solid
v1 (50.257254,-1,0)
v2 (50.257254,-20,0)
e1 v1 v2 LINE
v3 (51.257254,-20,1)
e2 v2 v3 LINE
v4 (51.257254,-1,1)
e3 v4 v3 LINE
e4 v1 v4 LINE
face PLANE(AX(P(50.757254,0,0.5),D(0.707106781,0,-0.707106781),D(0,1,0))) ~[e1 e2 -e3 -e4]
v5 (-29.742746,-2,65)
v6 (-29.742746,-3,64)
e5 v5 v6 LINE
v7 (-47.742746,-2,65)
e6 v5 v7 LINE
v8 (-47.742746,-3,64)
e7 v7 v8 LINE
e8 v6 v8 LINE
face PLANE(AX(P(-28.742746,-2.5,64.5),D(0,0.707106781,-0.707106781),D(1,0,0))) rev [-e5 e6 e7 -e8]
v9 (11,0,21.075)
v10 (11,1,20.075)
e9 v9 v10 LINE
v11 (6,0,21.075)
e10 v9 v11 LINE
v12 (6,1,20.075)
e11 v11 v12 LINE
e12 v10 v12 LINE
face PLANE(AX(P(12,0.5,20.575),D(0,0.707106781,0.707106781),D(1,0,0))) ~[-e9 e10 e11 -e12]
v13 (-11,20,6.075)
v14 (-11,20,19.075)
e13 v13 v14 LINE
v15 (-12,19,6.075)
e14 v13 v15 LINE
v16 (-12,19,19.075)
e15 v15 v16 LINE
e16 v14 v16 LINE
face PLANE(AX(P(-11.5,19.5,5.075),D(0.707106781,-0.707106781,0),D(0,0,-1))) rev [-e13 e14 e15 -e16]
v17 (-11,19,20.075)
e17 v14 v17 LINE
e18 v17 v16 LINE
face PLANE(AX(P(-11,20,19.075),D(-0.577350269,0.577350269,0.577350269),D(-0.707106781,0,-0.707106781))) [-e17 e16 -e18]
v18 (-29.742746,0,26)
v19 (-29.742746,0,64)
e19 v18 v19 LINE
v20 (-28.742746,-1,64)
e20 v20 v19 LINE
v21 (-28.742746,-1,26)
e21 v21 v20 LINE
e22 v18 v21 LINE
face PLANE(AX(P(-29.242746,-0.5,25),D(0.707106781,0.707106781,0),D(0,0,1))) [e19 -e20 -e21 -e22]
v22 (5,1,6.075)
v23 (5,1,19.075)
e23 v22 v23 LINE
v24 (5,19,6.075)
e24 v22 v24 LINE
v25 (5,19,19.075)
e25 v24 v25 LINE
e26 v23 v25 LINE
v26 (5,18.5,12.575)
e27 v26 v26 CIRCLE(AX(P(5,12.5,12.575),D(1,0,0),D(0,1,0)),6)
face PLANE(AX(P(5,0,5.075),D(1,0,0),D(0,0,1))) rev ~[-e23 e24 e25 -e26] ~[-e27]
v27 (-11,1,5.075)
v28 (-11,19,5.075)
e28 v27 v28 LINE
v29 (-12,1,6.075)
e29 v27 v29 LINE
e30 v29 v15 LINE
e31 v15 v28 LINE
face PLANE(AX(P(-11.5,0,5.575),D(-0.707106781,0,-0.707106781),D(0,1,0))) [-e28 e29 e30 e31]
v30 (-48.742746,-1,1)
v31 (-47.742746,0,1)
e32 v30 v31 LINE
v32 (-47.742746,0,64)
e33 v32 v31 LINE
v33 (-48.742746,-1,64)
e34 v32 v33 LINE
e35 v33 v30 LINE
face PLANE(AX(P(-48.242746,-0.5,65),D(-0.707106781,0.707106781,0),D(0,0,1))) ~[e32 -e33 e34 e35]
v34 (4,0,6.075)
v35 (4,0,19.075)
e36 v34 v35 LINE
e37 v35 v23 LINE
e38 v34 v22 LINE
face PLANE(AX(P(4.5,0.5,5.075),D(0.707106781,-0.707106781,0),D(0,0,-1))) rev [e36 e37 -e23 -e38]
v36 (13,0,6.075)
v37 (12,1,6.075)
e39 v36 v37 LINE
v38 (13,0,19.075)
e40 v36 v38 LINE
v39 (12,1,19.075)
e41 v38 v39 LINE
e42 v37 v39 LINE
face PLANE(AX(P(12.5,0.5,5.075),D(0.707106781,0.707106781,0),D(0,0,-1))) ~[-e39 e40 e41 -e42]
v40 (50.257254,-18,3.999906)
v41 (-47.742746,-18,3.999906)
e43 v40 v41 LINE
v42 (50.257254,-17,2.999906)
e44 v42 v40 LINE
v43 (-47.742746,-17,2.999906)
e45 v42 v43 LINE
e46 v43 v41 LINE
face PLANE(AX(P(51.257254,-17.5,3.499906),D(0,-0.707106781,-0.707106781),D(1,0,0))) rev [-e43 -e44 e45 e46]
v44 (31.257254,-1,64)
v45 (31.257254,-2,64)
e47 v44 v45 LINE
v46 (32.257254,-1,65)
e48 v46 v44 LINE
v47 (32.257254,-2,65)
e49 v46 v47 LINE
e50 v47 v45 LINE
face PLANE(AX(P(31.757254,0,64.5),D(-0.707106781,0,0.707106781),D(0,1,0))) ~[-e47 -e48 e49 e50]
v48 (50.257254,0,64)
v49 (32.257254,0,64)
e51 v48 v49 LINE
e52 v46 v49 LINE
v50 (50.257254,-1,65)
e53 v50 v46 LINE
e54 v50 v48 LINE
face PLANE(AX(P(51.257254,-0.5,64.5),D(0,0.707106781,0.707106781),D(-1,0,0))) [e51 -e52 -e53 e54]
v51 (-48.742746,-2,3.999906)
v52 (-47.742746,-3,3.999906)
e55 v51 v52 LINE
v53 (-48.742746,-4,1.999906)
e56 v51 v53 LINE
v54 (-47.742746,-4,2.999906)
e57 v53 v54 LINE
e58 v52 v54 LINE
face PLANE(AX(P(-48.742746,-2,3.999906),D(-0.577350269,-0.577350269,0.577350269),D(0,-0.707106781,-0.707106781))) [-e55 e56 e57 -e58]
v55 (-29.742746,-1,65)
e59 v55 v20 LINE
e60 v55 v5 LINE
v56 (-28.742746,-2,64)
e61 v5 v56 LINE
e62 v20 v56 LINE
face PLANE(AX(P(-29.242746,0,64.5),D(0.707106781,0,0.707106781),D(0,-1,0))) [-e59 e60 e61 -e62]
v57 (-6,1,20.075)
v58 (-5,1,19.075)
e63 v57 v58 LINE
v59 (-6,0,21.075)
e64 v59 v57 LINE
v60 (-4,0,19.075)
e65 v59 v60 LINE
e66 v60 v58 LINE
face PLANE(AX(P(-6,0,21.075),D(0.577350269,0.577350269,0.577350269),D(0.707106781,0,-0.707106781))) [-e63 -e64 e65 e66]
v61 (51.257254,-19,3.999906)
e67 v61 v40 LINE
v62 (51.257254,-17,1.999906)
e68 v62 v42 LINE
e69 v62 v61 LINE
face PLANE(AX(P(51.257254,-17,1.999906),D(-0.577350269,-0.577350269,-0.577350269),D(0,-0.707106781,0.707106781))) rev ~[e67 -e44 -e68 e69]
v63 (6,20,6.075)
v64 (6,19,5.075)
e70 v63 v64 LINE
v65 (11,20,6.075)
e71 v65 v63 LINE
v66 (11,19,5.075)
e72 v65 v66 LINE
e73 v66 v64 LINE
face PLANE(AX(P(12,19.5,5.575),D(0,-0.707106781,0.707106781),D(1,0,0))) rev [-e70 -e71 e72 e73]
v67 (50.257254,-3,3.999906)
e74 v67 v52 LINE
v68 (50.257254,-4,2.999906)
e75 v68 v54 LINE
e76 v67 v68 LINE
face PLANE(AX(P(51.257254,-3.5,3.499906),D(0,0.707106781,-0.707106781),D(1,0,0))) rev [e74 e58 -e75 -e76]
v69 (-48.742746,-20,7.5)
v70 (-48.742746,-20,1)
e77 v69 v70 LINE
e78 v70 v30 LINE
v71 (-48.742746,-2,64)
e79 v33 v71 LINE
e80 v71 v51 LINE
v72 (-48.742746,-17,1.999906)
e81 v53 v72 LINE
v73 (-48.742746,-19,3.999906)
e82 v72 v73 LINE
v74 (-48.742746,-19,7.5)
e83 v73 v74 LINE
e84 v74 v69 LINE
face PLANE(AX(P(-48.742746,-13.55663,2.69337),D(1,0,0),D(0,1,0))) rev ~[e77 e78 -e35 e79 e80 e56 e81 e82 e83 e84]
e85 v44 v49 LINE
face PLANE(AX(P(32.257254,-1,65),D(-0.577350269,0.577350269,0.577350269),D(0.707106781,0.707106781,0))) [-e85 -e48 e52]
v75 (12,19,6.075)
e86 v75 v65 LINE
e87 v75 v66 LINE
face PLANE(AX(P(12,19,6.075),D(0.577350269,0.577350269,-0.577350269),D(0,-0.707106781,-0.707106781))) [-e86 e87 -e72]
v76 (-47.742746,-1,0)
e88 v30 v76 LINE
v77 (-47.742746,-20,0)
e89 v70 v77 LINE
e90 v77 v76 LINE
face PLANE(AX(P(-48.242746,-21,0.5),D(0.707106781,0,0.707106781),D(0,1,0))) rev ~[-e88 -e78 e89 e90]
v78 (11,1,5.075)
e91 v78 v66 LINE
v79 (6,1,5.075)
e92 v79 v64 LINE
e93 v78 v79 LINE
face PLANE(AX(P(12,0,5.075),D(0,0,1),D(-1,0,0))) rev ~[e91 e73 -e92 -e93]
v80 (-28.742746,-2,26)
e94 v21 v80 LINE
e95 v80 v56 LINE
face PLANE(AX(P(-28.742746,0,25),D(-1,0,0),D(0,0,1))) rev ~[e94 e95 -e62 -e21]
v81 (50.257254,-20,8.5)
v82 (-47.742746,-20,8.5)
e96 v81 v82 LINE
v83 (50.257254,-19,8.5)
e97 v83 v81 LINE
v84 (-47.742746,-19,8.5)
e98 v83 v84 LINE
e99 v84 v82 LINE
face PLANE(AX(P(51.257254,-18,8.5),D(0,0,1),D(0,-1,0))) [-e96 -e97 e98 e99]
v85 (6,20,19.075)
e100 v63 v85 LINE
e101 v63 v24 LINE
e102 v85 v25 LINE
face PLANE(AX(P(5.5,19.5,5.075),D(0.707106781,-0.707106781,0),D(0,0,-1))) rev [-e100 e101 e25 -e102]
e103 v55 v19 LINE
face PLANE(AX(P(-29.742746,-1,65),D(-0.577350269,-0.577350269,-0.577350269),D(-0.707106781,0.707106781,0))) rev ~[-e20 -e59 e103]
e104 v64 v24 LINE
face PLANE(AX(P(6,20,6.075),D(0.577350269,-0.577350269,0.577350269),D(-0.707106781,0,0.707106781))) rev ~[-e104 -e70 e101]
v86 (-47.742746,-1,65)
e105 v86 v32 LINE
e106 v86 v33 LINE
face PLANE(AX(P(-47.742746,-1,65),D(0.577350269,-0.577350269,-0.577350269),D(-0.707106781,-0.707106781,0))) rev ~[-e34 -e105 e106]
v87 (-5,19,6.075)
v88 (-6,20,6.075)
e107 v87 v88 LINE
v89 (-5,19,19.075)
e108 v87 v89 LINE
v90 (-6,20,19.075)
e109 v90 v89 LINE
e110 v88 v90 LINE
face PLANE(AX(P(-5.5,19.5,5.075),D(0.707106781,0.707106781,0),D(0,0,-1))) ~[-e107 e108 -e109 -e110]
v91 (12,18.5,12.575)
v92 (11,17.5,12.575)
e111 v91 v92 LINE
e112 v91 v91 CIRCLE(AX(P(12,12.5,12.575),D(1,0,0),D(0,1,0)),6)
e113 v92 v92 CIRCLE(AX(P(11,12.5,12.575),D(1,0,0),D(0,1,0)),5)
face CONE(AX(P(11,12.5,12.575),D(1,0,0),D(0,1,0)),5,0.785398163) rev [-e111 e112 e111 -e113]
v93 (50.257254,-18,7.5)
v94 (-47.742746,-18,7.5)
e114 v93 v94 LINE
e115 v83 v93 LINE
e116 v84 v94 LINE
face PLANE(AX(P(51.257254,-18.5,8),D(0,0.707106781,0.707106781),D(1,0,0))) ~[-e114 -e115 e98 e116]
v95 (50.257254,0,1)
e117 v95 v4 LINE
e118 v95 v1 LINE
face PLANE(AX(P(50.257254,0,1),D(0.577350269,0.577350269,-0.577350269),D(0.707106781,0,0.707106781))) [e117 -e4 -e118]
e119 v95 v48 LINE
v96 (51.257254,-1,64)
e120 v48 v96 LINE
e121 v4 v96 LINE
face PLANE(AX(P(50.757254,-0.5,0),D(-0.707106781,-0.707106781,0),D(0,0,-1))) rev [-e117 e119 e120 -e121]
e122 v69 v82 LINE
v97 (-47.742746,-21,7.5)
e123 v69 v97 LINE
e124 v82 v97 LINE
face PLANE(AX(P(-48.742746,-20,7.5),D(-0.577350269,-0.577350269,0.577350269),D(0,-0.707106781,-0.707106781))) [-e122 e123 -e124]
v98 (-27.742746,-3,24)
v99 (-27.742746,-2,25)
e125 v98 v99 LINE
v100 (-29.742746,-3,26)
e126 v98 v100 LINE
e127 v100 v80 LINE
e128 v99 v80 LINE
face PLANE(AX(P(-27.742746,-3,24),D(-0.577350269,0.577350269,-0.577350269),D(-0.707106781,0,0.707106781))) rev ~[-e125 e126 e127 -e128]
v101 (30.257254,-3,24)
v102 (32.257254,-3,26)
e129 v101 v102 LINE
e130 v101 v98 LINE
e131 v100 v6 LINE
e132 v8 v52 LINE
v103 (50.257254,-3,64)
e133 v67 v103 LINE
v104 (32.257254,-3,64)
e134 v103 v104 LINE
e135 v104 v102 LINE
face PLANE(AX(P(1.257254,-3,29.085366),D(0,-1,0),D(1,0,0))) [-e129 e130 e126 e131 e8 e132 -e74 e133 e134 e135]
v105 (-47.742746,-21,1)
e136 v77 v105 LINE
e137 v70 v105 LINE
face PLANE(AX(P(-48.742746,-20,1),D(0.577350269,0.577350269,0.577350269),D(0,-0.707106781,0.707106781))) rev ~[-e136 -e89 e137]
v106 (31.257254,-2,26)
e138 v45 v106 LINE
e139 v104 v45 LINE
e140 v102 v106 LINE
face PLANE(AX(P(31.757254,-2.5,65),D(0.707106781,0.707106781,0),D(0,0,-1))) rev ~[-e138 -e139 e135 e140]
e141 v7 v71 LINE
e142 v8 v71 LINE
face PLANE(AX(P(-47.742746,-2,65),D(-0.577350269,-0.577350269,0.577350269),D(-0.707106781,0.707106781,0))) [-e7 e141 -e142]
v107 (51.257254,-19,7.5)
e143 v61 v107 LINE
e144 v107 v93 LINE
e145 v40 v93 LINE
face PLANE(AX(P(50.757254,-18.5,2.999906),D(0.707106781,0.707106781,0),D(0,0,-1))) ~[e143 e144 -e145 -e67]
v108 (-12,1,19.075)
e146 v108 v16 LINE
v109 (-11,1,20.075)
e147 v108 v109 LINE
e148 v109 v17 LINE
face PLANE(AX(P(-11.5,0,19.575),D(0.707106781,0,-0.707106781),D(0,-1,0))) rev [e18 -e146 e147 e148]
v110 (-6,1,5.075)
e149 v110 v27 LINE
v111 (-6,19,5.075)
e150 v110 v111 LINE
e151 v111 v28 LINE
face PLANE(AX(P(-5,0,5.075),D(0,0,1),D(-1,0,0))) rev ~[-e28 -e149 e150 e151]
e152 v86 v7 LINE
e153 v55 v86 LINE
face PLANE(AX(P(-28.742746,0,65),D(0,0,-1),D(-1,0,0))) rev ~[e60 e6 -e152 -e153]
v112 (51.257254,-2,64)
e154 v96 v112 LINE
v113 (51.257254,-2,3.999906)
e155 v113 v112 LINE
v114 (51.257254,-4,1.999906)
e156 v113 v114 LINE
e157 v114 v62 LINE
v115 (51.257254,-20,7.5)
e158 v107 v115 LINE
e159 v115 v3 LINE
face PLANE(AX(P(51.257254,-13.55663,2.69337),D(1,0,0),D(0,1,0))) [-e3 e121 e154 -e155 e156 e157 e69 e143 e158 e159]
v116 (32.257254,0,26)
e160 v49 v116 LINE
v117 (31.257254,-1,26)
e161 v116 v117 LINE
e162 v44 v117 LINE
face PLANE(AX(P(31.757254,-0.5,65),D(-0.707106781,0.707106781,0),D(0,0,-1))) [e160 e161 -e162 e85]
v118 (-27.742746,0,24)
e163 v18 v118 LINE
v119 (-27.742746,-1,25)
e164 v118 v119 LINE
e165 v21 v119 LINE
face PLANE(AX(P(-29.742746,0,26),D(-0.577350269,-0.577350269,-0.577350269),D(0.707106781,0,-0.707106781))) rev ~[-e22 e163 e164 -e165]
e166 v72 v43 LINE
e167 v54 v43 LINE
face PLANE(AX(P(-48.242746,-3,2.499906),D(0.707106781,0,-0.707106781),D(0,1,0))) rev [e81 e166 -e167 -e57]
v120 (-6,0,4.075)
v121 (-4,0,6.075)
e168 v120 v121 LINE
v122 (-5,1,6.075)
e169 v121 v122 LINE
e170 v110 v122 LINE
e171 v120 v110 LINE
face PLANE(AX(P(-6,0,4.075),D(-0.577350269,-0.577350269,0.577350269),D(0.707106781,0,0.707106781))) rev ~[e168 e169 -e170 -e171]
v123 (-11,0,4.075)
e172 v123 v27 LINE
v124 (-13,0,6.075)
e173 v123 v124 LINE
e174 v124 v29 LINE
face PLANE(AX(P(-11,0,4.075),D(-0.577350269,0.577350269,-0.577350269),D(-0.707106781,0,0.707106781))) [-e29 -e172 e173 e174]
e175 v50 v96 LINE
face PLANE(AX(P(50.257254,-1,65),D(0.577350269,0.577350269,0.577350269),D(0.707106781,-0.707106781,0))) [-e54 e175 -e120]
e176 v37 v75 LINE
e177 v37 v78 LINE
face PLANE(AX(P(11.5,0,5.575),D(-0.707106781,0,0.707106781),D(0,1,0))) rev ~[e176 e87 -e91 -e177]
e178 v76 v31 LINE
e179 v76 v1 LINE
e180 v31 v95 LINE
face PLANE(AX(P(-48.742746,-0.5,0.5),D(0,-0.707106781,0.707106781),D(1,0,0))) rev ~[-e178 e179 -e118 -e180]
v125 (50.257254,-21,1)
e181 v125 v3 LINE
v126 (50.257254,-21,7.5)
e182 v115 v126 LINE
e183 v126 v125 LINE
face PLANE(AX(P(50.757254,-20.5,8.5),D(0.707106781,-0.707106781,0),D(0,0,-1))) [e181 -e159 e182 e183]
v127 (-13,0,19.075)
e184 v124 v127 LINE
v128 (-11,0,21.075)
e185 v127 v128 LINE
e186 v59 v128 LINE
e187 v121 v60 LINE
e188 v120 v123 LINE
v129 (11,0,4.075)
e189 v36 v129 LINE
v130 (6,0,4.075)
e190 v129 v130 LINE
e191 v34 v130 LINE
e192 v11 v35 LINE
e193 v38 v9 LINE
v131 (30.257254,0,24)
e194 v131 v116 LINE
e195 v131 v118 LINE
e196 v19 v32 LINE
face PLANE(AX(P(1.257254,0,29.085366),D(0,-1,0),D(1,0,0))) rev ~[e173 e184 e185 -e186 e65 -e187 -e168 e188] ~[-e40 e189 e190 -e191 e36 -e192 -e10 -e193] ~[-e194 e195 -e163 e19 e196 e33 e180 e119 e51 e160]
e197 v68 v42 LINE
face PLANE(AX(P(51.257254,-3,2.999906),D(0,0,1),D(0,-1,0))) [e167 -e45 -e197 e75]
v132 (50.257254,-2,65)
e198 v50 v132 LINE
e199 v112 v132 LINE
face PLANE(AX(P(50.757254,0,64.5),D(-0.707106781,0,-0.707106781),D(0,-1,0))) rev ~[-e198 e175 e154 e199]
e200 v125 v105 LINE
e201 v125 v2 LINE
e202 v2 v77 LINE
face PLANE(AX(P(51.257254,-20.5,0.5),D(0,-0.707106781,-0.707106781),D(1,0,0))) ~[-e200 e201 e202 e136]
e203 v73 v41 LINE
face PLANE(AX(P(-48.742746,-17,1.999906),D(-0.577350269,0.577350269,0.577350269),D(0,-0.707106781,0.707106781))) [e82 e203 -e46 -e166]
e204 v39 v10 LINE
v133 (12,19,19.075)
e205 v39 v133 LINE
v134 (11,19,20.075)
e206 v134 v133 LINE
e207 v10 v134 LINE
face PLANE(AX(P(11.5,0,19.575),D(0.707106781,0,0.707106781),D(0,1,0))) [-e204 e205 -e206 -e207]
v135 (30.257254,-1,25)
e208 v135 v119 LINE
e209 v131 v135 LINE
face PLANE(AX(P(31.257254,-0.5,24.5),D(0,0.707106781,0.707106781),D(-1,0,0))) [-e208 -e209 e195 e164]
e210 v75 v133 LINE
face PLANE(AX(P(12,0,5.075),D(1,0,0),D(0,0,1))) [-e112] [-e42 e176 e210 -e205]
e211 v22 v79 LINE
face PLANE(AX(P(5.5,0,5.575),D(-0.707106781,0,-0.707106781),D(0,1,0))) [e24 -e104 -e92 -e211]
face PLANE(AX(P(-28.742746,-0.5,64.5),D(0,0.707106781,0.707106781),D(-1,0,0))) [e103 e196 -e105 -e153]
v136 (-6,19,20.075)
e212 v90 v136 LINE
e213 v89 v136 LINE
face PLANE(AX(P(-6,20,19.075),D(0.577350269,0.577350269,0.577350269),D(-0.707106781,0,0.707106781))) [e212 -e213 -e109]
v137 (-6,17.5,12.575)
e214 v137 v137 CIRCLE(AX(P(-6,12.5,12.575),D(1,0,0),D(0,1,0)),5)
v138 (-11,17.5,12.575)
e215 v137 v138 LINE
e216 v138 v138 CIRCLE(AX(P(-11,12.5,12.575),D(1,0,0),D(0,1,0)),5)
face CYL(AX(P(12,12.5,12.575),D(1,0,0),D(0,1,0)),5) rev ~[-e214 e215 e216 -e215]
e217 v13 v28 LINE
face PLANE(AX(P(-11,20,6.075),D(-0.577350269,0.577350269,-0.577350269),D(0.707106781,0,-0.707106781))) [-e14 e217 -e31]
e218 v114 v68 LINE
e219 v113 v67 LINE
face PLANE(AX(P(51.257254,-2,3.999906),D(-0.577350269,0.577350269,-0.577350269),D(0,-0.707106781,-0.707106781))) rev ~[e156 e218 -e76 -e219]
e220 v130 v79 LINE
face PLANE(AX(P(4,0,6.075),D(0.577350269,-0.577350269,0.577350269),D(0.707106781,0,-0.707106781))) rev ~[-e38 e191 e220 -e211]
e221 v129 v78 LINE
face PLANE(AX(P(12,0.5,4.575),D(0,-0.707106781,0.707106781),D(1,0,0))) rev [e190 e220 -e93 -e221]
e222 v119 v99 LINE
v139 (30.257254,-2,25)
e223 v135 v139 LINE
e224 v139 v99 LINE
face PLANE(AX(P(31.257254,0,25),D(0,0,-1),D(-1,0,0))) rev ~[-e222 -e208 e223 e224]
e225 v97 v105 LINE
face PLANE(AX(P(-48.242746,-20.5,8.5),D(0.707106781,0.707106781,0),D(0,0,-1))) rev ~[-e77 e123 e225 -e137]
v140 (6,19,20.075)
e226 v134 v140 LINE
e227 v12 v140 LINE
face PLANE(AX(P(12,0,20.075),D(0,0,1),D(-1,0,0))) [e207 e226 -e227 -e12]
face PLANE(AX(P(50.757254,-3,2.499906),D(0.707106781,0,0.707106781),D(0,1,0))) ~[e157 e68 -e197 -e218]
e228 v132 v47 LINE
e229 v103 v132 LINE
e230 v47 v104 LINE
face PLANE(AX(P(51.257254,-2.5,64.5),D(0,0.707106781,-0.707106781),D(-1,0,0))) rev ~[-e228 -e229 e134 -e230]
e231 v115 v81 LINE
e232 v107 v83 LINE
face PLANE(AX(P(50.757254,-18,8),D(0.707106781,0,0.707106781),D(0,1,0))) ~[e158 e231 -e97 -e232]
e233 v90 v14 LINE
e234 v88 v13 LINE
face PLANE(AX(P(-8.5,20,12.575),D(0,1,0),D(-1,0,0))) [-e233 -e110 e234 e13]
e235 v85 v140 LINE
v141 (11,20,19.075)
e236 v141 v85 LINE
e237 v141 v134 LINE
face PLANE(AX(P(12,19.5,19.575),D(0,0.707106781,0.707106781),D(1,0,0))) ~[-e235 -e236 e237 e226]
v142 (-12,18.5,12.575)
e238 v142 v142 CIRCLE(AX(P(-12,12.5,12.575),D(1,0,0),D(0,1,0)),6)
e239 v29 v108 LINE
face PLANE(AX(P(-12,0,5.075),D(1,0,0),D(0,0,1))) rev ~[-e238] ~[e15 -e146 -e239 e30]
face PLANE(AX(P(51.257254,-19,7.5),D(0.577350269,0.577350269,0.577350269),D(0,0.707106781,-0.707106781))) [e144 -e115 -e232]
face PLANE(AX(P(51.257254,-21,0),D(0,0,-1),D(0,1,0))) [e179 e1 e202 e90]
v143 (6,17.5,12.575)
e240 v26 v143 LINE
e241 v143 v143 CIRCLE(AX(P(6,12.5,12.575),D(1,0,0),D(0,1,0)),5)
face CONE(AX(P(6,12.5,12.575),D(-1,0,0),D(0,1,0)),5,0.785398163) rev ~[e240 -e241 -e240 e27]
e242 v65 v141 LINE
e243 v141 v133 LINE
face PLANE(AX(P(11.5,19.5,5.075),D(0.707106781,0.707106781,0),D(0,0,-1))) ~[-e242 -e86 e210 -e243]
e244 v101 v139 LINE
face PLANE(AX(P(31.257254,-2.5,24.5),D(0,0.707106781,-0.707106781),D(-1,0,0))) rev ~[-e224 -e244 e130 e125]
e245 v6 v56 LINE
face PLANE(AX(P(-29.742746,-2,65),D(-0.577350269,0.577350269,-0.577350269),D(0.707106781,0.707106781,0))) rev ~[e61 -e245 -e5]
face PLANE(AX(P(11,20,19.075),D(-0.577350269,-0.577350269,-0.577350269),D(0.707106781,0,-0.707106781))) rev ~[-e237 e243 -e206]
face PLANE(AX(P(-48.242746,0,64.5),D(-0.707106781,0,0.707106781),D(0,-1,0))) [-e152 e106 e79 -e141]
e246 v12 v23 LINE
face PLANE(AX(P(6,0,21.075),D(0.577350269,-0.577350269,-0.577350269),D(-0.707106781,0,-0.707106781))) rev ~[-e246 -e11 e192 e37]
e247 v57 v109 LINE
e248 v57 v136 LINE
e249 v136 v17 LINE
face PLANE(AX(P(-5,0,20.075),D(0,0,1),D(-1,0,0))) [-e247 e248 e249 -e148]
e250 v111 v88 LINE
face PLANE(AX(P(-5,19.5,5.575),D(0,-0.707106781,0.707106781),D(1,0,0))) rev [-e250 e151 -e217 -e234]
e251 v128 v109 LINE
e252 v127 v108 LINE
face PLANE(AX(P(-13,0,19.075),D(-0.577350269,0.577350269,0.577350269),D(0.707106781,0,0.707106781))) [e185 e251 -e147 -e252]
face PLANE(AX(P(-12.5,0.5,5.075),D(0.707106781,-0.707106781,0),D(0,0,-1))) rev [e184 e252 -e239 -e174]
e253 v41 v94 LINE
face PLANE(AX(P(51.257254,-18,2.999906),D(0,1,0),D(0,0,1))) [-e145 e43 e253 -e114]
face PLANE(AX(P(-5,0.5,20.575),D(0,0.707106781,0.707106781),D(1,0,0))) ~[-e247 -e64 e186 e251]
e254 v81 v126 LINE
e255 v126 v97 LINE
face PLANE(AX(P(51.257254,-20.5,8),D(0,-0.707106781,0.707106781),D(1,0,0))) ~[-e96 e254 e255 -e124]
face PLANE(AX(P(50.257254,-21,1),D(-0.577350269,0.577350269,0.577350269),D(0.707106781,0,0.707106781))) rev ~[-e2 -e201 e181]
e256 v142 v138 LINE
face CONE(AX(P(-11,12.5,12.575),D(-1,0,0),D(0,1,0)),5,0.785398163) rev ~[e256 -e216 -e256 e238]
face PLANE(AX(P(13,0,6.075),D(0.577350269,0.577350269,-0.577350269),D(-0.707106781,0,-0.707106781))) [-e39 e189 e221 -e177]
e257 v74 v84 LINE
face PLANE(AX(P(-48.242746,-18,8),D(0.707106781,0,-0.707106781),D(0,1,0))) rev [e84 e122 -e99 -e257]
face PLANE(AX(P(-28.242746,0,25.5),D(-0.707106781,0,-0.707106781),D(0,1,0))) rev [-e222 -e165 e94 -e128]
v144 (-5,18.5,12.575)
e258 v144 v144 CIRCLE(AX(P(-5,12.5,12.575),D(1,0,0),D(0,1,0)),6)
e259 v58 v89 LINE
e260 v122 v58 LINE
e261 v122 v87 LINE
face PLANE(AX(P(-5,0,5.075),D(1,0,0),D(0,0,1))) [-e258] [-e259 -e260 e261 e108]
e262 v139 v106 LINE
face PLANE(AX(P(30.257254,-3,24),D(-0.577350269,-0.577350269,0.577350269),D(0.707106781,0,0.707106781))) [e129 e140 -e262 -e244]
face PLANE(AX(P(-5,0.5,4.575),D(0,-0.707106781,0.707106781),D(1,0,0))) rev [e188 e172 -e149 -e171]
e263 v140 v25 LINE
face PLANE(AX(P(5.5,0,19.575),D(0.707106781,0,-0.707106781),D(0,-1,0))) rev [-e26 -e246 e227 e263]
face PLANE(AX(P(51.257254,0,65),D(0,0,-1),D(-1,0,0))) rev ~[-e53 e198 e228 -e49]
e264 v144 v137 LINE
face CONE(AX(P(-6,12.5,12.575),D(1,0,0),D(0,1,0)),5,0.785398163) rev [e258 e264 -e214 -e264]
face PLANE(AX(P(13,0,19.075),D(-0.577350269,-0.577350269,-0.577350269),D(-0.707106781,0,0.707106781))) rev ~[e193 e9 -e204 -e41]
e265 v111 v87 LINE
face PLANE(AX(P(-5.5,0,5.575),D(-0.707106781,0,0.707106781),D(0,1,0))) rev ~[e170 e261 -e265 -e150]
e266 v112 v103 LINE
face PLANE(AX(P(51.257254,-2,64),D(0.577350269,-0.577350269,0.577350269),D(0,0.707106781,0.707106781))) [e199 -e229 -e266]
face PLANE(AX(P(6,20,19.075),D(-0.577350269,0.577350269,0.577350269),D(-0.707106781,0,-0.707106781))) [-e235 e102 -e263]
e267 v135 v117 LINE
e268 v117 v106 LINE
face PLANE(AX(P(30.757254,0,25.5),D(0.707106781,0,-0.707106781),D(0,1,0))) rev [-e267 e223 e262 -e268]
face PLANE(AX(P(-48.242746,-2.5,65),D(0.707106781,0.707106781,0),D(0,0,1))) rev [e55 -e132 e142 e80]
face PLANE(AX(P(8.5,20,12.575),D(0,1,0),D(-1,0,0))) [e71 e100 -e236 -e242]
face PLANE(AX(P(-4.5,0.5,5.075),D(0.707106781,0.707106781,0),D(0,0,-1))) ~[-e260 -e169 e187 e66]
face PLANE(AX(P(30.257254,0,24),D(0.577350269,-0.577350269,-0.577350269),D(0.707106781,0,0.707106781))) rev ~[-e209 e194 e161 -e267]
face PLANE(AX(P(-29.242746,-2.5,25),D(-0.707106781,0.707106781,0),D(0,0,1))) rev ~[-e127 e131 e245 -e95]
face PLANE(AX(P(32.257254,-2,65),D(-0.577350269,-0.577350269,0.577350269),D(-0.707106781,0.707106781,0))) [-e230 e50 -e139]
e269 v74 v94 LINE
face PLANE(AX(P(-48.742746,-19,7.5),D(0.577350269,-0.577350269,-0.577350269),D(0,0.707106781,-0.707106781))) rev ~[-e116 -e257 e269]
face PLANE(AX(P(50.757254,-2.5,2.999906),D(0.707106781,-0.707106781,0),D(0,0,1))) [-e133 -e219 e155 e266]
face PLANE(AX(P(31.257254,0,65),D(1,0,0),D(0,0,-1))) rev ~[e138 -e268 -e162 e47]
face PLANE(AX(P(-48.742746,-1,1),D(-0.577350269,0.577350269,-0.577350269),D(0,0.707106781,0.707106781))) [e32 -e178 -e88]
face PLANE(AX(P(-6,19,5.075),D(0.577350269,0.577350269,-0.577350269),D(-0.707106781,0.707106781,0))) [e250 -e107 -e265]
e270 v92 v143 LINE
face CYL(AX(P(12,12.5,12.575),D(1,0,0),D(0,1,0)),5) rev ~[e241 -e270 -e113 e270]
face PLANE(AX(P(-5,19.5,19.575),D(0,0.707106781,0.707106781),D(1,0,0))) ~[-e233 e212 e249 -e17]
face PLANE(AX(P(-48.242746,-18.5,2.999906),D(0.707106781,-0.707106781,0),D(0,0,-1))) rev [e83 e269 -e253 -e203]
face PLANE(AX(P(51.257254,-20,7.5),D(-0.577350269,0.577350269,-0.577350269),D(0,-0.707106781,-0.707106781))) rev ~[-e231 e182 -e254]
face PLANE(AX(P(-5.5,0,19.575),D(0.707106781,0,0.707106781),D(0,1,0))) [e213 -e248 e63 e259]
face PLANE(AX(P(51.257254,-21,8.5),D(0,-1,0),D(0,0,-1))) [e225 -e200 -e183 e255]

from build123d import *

# Parameters (mm, degrees)
F1_DEPTH = 3
F3_DEPTH = 100
F4_W     = 7
F4_H     = 15
F5_DEPTH = 20
F6_R     = 5
F7_DEPTH = 25
F8_SIZE  = 1


with BuildPart() as f1:
    # F0 (on Front) → F1 (new body)
    with BuildSketch(Plane.XZ):
        Polygon((-48.7427460821, 65), (-48.7427460821, 0), (51.2572539179, 0), (51.2572539179, 65), (31.2572539179, 65), (31.2572539179, 25), (-28.7427460821, 25), (-28.7427460821, 65), align=None)
    extrude(amount=F1_DEPTH)

    # F2 (on face) → F3 (join)
    with BuildSketch(Plane.YZ.offset(51.2572539179)):
        Polygon((-21, 0), (-3, 0), (-3, 2.9999055994), (-18, 2.9999055994), (-18, 8.5), (-21, 8.5), align=None)
    extrude(amount=-F3_DEPTH)

    # F4 (on face) → F5 (join)
    with BuildSketch(Plane(origin=(0, 0, 0), x_dir=(-1, 0, 0), z_dir=(0, 1, 0))):
        with Locations((-8.5, 12.5750002265)):
            Rectangle(F4_W, F4_H)
        with Locations((8.5, 12.5750002265)):
            Rectangle(F4_W, F4_H)
    extrude(amount=F5_DEPTH)

    # F6 (on face) → F7 (cut)
    with BuildSketch(Plane.YZ.offset(12)):
        with Locations((12.5, 12.5750002265)):
            Circle(F6_R)
    extrude(amount=-F7_DEPTH, mode=Mode.SUBTRACT)

    # F8
    f8_edges = [f1.edges().sort_by_distance(p)[0] for p in [
        (1.257254, -3, 2.999906),
        (1.257254, -18, 2.999906),
        (12, 0, 12.575),
        (8.5, 0, 20.075),
        (5, 0, 12.575),
        (8.5, 0, 5.075),
        (-8.5, 0, 5.075),
        (-12, 0, 12.575),
        (-8.5, 0, 20.075),
        (-5, 0, 12.575),
        (12, 7.5, 12.575),
        (5, 7.5, 12.575),
        (-12, 7.5, 12.575),
        (-5, 7.5, 12.575),
        (51.257254, -10.5, 0),
        (1.257254, -21, 0),
        (1.257254, 0, 0),
        (-48.742746, -10.5, 0),
        (1.257254, -21, 8.5),
        (1.257254, -18, 8.5),
        (-48.742746, -19.5, 8.5),
        (51.257254, -19.5, 8.5),
        (1.257254, -3, 25),
        (31.257254, -3, 45),
        (41.257254, -3, 65),
        (51.257254, -3, 33.999953),
        (-48.742746, -3, 33.999953),
        (-48.742746, 0, 32.5),
        (-28.742746, -3, 45),
        (-38.742746, -3, 65),
        (-28.742746, 0, 45),
        (1.257254, 0, 25),
        (31.257254, 0, 45),
        (31.257254, -1.5, 65),
        (31.257254, -1.5, 25),
        (-28.742746, -1.5, 65),
        (51.257254, 0, 32.5),
        (41.257254, 0, 65),
        (-48.742746, -10.5, 2.999906),
        (-38.742746, 0, 65),
        (12, 10, 20.075),
        (5, 10, 20.075),
        (5, 10, 5.075),
        (-5, 10, 20.075),
        (-12, 10, 20.075),
        (-12, 10, 5.075),
        (8.5, 20, 20.075),
        (8.5, 20, 5.075),
        (-5, 20, 12.575),
        (-8.5, 20, 20.075),
        (-12, 20, 12.575),
        (51.257254, -1.5, 65),
        (-28.742746, -1.5, 25),
        (-48.742746, -1.5, 65),
        (-48.742746, -18, 5.749953),
        (51.257254, -10.5, 2.999906),
        (51.257254, -21, 4.25),
        (-48.742746, -21, 4.25),
        (51.257254, -18, 5.749953),
        (12, 20, 12.575),
        (5, 20, 12.575),
        (12, 10, 5.075),
        (-5, 10, 5.075),
        (-8.5, 20, 5.075),
    ]]
    chamfer(f8_edges, length=F8_SIZE)


solid = f1.part
